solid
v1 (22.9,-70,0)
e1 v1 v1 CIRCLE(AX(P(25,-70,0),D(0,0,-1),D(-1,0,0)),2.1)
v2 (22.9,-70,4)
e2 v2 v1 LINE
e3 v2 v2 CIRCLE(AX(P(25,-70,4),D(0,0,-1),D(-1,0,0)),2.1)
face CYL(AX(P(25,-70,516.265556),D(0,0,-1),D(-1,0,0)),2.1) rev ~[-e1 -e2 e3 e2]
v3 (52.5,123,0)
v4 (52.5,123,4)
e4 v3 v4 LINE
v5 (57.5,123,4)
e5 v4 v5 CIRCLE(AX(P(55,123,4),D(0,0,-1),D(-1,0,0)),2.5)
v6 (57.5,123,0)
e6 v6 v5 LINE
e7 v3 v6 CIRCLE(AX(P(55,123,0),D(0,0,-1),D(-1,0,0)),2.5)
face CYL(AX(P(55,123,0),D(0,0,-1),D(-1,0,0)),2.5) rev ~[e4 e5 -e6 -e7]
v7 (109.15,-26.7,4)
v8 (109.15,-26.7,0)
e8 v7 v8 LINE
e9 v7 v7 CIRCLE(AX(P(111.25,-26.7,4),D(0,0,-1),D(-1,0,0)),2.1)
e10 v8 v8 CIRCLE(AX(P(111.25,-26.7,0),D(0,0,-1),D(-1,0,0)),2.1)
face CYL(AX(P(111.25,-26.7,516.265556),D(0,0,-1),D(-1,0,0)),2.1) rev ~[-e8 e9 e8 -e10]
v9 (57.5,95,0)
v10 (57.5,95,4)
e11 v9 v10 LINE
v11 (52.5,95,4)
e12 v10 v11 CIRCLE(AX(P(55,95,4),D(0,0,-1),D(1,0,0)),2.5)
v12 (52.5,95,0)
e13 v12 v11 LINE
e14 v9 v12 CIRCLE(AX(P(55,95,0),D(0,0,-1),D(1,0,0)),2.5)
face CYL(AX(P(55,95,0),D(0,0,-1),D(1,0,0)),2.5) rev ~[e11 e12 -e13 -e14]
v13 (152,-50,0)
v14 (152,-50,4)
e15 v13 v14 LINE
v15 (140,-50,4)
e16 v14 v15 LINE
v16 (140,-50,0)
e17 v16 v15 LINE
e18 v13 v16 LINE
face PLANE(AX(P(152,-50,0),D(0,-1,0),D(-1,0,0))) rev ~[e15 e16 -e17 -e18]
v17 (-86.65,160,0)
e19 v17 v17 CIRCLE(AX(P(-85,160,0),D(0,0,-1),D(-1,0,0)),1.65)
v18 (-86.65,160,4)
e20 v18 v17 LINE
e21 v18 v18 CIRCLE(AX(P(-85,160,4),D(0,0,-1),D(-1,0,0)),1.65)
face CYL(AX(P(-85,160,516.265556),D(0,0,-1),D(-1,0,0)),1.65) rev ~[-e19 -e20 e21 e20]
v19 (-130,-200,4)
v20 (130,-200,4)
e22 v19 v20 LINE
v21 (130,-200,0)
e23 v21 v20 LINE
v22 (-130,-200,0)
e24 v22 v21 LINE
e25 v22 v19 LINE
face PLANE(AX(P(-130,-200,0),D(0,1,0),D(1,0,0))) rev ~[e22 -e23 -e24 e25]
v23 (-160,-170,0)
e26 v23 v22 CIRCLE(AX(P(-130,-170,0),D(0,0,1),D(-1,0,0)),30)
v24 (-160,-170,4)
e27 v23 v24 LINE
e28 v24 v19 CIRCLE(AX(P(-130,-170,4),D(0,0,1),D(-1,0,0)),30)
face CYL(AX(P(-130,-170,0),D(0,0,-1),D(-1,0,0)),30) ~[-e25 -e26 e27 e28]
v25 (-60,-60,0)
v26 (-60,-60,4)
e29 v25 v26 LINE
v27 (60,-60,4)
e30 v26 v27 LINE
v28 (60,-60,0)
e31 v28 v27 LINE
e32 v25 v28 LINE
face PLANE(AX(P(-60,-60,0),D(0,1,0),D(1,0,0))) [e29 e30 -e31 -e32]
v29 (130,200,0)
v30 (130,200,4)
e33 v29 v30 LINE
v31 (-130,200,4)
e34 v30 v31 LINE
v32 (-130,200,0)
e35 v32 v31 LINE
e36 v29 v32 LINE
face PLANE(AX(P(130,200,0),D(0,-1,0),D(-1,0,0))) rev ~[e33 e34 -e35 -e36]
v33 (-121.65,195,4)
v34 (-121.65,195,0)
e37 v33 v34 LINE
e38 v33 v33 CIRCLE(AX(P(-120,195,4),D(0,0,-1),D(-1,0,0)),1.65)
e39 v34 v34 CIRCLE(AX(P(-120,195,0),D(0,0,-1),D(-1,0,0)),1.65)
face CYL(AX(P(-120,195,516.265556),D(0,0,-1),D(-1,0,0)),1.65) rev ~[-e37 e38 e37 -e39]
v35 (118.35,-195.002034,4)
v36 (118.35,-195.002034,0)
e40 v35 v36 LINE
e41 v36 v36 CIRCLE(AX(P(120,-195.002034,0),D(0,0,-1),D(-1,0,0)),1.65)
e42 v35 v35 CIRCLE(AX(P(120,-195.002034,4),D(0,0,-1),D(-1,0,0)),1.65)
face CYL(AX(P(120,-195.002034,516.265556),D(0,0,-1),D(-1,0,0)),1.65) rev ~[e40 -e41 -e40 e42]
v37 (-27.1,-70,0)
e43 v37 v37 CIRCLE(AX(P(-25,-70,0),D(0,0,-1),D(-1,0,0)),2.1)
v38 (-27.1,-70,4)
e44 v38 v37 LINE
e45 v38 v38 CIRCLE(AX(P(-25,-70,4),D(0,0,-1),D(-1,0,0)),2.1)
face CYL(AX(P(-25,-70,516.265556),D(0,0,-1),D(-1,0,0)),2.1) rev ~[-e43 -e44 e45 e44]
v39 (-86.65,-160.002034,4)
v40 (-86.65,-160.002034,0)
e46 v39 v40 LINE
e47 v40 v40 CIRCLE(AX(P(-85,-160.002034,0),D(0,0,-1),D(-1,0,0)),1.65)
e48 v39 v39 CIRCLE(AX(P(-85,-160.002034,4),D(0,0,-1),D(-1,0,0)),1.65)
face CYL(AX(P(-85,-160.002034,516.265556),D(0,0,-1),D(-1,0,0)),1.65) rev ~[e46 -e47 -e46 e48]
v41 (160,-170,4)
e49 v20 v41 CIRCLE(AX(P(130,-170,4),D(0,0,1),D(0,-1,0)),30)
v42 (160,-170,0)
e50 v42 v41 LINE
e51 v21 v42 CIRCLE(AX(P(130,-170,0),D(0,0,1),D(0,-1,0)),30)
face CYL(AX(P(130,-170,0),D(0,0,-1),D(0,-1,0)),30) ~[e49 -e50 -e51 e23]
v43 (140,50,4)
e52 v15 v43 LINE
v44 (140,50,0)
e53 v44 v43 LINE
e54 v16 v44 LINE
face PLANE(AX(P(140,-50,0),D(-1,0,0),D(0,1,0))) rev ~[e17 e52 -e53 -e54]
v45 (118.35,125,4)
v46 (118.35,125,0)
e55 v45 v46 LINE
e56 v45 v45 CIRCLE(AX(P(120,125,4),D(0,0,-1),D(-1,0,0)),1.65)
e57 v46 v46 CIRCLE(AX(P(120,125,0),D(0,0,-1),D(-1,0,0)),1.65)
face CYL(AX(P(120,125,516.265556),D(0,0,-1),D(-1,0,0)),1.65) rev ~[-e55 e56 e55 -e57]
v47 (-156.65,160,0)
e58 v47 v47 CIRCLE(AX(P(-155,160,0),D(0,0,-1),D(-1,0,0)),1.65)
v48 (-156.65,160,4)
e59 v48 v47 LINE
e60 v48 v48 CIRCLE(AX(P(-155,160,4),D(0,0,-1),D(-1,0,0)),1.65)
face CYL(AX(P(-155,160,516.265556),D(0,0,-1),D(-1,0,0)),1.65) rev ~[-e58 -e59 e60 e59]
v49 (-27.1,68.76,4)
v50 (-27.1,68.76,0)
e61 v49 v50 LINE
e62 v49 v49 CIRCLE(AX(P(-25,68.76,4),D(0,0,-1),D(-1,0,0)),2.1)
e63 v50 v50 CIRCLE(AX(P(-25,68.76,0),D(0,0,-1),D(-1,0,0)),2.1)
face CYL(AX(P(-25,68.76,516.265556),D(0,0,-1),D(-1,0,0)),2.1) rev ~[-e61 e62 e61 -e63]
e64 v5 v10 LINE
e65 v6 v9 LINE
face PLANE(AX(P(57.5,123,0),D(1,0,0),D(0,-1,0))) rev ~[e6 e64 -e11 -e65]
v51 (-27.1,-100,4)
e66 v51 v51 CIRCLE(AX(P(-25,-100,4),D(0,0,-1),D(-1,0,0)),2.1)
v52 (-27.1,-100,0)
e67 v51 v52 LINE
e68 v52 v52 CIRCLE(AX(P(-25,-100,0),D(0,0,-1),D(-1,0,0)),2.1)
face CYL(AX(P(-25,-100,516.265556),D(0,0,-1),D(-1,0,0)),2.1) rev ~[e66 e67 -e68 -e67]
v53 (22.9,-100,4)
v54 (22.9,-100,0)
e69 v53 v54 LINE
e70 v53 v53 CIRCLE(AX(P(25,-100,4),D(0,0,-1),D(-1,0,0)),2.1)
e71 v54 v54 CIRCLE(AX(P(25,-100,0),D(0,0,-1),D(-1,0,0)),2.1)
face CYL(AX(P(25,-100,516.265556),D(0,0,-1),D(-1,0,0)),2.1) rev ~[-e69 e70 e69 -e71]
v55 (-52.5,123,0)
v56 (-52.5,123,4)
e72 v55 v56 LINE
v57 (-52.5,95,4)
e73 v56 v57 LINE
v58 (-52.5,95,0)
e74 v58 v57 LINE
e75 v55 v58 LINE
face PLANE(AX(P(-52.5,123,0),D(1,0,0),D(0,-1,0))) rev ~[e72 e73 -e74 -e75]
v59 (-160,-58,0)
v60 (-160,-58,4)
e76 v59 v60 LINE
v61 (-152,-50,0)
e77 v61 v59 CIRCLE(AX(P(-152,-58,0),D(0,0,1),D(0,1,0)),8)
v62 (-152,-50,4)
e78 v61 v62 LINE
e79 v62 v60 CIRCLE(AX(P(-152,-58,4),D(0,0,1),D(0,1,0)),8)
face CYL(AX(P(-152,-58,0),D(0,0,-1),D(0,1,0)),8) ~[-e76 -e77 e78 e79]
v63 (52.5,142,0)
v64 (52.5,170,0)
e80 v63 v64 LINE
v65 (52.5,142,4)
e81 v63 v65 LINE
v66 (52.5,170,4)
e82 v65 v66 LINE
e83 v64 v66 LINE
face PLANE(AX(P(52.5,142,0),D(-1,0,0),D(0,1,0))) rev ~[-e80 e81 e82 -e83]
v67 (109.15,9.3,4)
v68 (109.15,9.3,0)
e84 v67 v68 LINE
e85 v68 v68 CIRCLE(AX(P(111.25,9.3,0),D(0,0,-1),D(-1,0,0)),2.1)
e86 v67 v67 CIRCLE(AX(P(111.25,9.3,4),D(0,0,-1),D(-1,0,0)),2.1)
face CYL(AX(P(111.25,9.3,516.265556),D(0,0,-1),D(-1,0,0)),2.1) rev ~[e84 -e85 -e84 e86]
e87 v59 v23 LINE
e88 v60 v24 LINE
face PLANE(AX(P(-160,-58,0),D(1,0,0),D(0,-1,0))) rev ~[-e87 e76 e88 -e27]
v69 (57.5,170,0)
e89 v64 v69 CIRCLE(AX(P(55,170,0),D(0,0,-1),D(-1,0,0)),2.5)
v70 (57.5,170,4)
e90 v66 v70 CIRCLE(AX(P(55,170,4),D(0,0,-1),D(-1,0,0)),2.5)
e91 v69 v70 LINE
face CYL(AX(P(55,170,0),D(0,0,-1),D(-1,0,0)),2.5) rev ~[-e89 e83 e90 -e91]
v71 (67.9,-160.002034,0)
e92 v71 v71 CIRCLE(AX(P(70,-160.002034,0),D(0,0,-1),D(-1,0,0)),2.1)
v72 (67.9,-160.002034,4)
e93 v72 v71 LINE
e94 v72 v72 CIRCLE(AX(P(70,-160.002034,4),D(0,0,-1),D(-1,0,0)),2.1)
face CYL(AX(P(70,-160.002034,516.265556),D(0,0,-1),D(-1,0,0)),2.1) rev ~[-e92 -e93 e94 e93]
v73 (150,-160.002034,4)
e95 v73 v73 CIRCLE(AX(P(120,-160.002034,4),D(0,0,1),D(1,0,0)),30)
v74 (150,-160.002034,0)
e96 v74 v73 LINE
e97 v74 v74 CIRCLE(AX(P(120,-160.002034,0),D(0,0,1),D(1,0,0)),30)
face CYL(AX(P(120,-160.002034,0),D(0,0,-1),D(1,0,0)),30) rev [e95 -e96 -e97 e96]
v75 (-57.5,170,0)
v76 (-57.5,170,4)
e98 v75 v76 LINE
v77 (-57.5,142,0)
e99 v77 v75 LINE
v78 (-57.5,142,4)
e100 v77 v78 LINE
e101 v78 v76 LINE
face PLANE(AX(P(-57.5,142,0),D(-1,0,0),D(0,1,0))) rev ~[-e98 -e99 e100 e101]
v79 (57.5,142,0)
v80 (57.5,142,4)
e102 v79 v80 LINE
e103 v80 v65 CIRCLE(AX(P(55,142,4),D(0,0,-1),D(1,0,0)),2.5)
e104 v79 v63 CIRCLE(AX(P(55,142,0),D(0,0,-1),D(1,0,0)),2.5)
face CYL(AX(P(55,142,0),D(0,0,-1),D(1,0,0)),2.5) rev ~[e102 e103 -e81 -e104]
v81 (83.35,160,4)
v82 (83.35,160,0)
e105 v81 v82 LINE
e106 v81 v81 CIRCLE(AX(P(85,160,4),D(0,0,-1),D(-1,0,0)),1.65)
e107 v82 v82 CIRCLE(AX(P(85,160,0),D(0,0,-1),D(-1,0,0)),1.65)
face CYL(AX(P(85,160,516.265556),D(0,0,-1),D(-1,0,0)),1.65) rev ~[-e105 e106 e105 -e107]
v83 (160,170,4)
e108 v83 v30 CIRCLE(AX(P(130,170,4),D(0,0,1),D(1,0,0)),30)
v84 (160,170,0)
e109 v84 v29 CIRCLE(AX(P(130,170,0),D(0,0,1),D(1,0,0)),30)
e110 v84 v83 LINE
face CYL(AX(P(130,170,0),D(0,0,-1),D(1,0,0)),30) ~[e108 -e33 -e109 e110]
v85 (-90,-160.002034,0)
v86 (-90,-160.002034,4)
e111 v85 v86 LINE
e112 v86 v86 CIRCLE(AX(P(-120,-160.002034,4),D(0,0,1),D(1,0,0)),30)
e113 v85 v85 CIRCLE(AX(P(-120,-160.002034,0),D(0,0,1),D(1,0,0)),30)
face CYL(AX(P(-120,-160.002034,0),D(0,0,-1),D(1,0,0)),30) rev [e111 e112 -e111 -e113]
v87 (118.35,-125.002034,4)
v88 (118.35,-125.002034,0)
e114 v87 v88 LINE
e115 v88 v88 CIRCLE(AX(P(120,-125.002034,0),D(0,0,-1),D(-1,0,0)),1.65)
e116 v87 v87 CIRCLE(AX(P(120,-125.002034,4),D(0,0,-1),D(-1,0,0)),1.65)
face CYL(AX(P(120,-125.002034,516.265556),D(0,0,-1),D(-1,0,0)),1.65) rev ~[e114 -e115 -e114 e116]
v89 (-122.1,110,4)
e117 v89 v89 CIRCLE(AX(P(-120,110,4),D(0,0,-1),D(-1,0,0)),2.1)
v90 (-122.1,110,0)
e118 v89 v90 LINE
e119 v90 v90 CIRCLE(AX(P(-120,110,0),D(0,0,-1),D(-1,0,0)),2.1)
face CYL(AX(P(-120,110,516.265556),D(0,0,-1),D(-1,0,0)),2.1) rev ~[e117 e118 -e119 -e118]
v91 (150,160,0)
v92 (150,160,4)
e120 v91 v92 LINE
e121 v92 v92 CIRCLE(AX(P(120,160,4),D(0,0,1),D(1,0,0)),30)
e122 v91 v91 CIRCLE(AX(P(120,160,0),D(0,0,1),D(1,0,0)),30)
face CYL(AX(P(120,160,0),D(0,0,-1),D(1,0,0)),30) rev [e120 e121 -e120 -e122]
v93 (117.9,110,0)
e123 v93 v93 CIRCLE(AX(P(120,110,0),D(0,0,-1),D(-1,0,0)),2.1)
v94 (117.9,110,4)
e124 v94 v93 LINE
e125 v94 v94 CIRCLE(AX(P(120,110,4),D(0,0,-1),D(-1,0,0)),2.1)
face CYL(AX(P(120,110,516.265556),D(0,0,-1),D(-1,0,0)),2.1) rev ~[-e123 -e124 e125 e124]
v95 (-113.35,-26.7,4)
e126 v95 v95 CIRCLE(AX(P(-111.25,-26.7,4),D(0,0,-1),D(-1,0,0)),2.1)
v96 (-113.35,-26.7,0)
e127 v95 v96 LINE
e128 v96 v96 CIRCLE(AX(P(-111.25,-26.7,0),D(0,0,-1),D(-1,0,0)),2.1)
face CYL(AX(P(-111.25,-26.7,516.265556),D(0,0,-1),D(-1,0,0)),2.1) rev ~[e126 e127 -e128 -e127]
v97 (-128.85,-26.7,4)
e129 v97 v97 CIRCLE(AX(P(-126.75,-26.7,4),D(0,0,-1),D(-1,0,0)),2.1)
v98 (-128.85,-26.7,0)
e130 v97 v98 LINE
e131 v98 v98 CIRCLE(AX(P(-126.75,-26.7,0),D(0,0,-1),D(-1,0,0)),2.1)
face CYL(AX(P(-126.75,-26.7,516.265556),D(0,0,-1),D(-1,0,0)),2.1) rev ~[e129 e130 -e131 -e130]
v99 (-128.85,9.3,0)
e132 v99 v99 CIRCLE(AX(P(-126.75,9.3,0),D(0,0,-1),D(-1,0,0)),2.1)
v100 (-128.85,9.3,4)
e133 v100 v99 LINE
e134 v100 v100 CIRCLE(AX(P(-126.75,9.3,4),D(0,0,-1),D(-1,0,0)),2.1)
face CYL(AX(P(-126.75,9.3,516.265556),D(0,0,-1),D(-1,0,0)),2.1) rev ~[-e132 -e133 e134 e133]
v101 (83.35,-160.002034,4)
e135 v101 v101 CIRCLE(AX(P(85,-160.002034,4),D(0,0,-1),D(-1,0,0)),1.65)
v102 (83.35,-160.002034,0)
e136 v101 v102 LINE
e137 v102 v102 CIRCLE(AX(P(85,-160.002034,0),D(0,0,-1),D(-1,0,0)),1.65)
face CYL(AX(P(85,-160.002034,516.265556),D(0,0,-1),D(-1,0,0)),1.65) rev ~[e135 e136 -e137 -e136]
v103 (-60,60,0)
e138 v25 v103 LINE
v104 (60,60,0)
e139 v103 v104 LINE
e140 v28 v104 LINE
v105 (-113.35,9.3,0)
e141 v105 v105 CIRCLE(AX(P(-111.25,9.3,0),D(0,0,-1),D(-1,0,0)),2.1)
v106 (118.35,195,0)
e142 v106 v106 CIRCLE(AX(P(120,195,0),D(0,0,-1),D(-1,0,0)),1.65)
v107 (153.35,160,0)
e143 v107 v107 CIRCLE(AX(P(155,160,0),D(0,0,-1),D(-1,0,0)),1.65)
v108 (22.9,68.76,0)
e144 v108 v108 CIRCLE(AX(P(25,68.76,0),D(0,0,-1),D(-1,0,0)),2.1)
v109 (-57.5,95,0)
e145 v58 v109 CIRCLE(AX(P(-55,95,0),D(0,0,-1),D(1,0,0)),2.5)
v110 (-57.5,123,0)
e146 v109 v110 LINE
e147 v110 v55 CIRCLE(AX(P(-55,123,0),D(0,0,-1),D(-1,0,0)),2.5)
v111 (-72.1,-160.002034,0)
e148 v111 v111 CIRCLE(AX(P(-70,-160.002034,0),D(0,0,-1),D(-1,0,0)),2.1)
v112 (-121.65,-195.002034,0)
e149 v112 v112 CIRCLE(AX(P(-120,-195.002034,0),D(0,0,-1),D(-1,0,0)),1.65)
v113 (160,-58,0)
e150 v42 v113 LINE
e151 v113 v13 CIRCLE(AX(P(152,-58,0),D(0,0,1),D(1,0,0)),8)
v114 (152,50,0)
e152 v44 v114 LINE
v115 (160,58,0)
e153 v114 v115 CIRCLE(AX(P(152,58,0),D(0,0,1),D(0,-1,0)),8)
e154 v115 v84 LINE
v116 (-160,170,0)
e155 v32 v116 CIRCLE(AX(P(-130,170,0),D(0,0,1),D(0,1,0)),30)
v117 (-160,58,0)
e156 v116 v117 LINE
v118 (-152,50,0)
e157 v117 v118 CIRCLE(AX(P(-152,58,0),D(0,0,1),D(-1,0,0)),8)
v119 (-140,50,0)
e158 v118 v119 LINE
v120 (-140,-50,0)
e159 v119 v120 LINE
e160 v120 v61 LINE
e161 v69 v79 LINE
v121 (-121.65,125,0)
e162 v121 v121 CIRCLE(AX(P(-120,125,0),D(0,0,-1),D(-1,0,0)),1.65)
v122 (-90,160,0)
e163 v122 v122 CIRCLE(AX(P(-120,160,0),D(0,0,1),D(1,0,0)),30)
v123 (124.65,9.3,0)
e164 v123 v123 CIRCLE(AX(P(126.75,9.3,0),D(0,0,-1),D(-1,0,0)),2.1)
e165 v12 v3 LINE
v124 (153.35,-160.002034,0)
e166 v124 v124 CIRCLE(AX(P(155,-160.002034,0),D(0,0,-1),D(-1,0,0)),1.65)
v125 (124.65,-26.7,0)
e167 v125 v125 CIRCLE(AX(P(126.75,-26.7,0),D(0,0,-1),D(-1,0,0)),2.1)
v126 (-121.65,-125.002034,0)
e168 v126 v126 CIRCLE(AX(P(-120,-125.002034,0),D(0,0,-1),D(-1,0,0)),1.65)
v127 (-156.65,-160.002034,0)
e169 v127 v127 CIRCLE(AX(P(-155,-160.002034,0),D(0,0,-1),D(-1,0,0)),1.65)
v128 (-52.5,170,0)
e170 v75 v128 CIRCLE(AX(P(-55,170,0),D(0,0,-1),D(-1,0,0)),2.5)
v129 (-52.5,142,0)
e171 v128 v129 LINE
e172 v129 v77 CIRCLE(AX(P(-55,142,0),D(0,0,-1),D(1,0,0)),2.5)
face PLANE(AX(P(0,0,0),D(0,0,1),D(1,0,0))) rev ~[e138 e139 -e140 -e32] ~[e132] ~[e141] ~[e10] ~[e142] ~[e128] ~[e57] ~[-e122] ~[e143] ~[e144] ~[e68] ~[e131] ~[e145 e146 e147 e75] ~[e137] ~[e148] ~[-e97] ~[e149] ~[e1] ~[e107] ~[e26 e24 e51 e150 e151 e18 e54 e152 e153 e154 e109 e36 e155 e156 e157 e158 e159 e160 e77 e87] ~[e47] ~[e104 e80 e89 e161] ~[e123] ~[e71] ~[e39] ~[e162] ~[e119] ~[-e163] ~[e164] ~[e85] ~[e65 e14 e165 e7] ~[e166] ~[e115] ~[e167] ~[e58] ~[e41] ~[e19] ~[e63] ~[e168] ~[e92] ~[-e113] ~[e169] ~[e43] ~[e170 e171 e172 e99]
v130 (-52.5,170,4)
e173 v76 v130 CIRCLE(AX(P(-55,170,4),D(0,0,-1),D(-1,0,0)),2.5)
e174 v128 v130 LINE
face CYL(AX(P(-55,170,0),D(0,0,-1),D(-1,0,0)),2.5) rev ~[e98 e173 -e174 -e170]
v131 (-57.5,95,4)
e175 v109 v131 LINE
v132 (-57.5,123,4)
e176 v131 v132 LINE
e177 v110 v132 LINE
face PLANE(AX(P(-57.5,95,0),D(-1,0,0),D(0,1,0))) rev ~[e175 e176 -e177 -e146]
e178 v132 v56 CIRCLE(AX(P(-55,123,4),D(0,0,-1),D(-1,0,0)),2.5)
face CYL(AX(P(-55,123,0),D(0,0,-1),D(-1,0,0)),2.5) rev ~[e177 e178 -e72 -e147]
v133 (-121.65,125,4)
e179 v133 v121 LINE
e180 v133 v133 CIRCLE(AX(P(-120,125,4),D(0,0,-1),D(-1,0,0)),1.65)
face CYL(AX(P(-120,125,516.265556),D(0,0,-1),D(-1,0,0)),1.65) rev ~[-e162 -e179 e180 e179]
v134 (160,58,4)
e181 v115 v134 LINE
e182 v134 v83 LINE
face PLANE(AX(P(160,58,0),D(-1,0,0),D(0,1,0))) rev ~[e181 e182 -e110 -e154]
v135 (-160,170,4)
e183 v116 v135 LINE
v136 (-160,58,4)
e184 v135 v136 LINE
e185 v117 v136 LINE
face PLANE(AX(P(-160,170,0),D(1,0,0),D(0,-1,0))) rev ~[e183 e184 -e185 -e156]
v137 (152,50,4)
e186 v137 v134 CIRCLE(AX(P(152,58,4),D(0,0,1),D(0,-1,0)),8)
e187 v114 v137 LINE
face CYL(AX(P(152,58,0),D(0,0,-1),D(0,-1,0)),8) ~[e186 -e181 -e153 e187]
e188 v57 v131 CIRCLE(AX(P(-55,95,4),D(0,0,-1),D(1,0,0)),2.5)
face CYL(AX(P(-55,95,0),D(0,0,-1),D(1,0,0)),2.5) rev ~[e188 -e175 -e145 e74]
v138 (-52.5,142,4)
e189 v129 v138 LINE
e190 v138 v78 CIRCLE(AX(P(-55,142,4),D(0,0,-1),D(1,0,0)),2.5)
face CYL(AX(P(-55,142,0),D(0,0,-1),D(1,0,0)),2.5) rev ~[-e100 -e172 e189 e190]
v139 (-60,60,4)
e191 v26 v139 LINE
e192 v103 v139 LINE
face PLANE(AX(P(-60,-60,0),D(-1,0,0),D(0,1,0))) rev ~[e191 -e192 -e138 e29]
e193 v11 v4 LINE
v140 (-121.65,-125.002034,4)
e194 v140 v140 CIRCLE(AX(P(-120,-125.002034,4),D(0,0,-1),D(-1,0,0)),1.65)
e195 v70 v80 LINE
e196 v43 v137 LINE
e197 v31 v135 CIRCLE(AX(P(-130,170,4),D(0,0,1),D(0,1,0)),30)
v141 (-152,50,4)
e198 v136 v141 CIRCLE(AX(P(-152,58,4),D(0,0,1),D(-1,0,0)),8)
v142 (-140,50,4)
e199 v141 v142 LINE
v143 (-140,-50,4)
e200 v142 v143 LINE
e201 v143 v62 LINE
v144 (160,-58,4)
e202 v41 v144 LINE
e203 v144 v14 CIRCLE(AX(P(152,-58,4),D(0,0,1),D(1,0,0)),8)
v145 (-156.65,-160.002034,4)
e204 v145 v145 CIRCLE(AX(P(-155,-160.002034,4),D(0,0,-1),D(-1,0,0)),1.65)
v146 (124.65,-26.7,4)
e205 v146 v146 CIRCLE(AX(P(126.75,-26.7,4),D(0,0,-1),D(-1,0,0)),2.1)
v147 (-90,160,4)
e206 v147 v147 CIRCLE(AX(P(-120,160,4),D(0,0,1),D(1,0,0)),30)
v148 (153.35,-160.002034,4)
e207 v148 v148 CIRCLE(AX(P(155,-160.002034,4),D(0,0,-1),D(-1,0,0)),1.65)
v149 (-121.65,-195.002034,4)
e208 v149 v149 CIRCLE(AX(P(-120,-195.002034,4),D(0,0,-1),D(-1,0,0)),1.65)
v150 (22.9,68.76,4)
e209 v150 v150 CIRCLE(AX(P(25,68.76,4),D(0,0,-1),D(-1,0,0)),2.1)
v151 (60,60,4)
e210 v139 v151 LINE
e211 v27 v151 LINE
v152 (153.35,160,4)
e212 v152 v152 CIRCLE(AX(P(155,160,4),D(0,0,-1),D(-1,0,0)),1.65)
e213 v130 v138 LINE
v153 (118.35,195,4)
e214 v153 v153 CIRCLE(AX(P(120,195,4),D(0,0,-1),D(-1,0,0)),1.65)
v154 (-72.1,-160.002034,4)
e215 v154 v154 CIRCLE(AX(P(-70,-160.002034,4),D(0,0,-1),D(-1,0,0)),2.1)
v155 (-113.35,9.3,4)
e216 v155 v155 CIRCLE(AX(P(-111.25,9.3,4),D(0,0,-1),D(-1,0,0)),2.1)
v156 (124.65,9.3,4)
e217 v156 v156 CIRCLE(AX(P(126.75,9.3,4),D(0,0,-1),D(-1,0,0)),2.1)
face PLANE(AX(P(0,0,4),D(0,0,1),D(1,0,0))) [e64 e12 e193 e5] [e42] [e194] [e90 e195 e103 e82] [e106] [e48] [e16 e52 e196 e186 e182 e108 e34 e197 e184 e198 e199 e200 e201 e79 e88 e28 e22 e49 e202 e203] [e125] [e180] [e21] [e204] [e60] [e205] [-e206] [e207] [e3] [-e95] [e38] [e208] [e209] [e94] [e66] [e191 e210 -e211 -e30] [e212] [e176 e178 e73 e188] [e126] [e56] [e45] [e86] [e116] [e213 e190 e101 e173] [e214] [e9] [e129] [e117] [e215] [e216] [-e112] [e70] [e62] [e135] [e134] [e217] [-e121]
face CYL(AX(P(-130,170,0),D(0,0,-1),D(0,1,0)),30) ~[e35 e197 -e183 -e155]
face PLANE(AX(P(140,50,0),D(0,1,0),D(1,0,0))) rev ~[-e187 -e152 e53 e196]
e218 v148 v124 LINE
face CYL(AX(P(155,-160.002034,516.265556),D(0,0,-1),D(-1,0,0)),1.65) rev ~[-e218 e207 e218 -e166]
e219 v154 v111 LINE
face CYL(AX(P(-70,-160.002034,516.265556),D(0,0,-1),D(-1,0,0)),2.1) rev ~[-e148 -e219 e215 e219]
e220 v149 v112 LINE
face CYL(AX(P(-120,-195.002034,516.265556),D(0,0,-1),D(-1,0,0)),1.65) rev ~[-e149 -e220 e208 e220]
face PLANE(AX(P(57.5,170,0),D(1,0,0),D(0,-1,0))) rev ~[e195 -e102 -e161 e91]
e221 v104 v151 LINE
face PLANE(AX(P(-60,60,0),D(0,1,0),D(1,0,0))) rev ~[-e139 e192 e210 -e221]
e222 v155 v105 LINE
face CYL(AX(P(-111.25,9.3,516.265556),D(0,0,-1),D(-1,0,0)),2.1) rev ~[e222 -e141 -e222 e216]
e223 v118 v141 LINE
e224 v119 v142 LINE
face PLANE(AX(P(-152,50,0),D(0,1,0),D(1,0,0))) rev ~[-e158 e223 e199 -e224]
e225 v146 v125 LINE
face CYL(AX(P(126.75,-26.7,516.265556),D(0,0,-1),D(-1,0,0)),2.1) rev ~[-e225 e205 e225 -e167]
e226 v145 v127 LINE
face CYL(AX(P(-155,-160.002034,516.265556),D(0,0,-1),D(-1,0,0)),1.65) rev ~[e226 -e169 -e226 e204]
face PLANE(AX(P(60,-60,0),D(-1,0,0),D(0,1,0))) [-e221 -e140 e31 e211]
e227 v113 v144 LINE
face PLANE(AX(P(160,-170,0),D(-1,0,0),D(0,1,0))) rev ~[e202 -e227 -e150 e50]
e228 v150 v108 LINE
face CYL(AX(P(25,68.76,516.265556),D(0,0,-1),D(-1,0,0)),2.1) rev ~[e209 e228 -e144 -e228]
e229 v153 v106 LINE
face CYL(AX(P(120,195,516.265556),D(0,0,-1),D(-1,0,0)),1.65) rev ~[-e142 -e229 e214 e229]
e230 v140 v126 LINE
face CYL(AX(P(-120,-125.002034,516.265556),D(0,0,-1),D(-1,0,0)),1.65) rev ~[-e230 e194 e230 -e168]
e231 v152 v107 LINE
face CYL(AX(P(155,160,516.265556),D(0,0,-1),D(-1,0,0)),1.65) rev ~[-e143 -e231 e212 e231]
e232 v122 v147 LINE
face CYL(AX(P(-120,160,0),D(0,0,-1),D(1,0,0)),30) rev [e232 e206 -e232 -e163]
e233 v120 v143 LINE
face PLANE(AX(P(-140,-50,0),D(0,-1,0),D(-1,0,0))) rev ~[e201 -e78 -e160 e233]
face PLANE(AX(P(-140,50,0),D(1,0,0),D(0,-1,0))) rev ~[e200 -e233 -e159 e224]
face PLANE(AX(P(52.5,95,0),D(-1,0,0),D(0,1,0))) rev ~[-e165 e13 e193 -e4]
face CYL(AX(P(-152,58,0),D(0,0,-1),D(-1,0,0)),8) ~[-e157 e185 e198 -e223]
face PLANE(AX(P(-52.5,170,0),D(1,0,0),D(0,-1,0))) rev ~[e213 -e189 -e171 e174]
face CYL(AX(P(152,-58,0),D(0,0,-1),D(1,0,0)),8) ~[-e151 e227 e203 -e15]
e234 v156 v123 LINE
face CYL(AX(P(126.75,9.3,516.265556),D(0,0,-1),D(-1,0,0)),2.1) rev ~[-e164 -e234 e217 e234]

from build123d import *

# Parameters (mm, degrees)
SKETCH_1_R         = 30
SKETCH_1_R_2       = 1.5
SKETCH_1_R_3       = 2
SKETCH_1_W         = 120
SKETCH_1_H         = 120
EXTRUDE_1_DEPTH    = 4
HOLE_WIZARD_M4_1_D = 3.3
HOLE_WIZARD_M5_1_D = 4.2


with BuildPart() as part:
    # 草图1 → 凸台-拉伸1 (new body)
    with BuildSketch(Plane.XY):
        with BuildLine():
            Line((-140, 50), (-140, -50))
            Line((-140, -50), (-152, -50))
            ThreePointArc((-152, -50), (-157.656854249, -52.343145751), (-160, -58))
            Line((-160, -58), (-160, -170))
            ThreePointArc((-160, -170), (-151.213203436, -191.213203436), (-130, -200))
            Line((-130, -200), (130, -200))
            ThreePointArc((130, -200), (151.213203436, -191.213203436), (160, -170))
            Line((160, -170), (160, -58))
            ThreePointArc((160, -58), (157.656854249, -52.343145751), (152, -50))
            Line((152, -50), (140, -50))
            Line((140, -50), (140, 50))
            Line((140, 50), (152, 50))
            ThreePointArc((152, 50), (157.656854249, 52.343145751), (160, 58))
            Line((160, 58), (160, 170))
            ThreePointArc((160, 170), (151.213203436, 191.213203436), (130, 200))
            Line((130, 200), (-130, 200))
            ThreePointArc((-130, 200), (-151.213203436, 191.213203436), (-160, 170))
            Line((-160, 170), (-160, 58))
            ThreePointArc((-160, 58), (-157.656854249, 52.343145751), (-152, 50))
            Line((-152, 50), (-140, 50))
        make_face()
        with Locations((-120, 160)):
            Circle(SKETCH_1_R, mode=Mode.SUBTRACT)
        with Locations((120, 160)):
            Circle(SKETCH_1_R, mode=Mode.SUBTRACT)
        with Locations((-120, -160.002034224)):
            Circle(SKETCH_1_R, mode=Mode.SUBTRACT)
        with Locations((120, -160.002034224)):
            Circle(SKETCH_1_R, mode=Mode.SUBTRACT)
        with Locations((-120, 195)):
            Circle(SKETCH_1_R_2, mode=Mode.SUBTRACT)
        with Locations((-155, 160)):
            Circle(SKETCH_1_R_2, mode=Mode.SUBTRACT)
        with Locations((-120, 125)):
            Circle(SKETCH_1_R_2, mode=Mode.SUBTRACT)
        with Locations((-85, 160)):
            Circle(SKETCH_1_R_2, mode=Mode.SUBTRACT)
        with Locations((120, 195)):
            Circle(SKETCH_1_R_2, mode=Mode.SUBTRACT)
        with Locations((155, 160)):
            Circle(SKETCH_1_R_2, mode=Mode.SUBTRACT)
        with Locations((85, 160)):
            Circle(SKETCH_1_R_2, mode=Mode.SUBTRACT)
        with Locations((120, 125)):
            Circle(SKETCH_1_R_2, mode=Mode.SUBTRACT)
        with Locations((-155, -160.002034224)):
            Circle(SKETCH_1_R_2, mode=Mode.SUBTRACT)
        with Locations((-120, -195.002034224)):
            Circle(SKETCH_1_R_2, mode=Mode.SUBTRACT)
        with Locations((-120, -125.002034224)):
            Circle(SKETCH_1_R_2, mode=Mode.SUBTRACT)
        with Locations((-85, -160.002034224)):
            Circle(SKETCH_1_R_2, mode=Mode.SUBTRACT)
        with Locations((155, -160.002034224)):
            Circle(SKETCH_1_R_2, mode=Mode.SUBTRACT)
        with Locations((120, -195.002034224)):
            Circle(SKETCH_1_R_2, mode=Mode.SUBTRACT)
        with Locations((120, -125.002034224)):
            Circle(SKETCH_1_R_2, mode=Mode.SUBTRACT)
        with Locations((85, -160.002034224)):
            Circle(SKETCH_1_R_2, mode=Mode.SUBTRACT)
        with Locations((25, -100)):
            Circle(SKETCH_1_R_3, mode=Mode.SUBTRACT)
        with Locations((25, -70)):
            Circle(SKETCH_1_R_3, mode=Mode.SUBTRACT)
        with Locations((-25, -100)):
            Circle(SKETCH_1_R_3, mode=Mode.SUBTRACT)
        with Locations((-25, -70)):
            Circle(SKETCH_1_R_3, mode=Mode.SUBTRACT)
        with Locations((-25, 68.76)):
            Circle(SKETCH_1_R_3, mode=Mode.SUBTRACT)
        with Locations((25, 68.76)):
            Circle(SKETCH_1_R_3, mode=Mode.SUBTRACT)
        with Locations((-120, 110)):
            Circle(SKETCH_1_R_3, mode=Mode.SUBTRACT)
        with Locations((120, 110)):
            Circle(SKETCH_1_R_3, mode=Mode.SUBTRACT)
        with Locations((-70, -160.002034224)):
            Circle(SKETCH_1_R_3, mode=Mode.SUBTRACT)
        with Locations((70, -160.002034224)):
            Circle(SKETCH_1_R_3, mode=Mode.SUBTRACT)
        with Locations((-126.75, 9.3)):
            Circle(SKETCH_1_R_3, mode=Mode.SUBTRACT)
        with Locations((-111.25, 9.3)):
            Circle(SKETCH_1_R_3, mode=Mode.SUBTRACT)
        with Locations((-126.75, -26.7)):
            Circle(SKETCH_1_R_3, mode=Mode.SUBTRACT)
        with Locations((-111.25, -26.7)):
            Circle(SKETCH_1_R_3, mode=Mode.SUBTRACT)
        with Locations((111.25, 9.3)):
            Circle(SKETCH_1_R_3, mode=Mode.SUBTRACT)
        with Locations((126.75, 9.3)):
            Circle(SKETCH_1_R_3, mode=Mode.SUBTRACT)
        with Locations((111.25, -26.7)):
            Circle(SKETCH_1_R_3, mode=Mode.SUBTRACT)
        with Locations((126.75, -26.7)):
            Circle(SKETCH_1_R_3, mode=Mode.SUBTRACT)
        Rectangle(SKETCH_1_W, SKETCH_1_H, mode=Mode.SUBTRACT)
        with BuildLine():
            Line((-52.5, 170), (-52.5, 142))
            ThreePointArc((-52.5, 142), (-55, 139.5), (-57.5, 142))
            Line((-57.5, 142), (-57.5, 170))
            ThreePointArc((-57.5, 170), (-55, 172.5), (-52.5, 170))
        make_face(mode=Mode.SUBTRACT)
        with BuildLine():
            Line((-52.5, 123), (-52.5, 95))
            ThreePointArc((-52.5, 95), (-55, 92.5), (-57.5, 95))
            Line((-57.5, 95), (-57.5, 123))
            ThreePointArc((-57.5, 123), (-55, 125.5), (-52.5, 123))
        make_face(mode=Mode.SUBTRACT)
        with BuildLine():
            Line((57.5, 170), (57.5, 142))
            ThreePointArc((57.5, 142), (55, 139.5), (52.5, 142))
            Line((52.5, 142), (52.5, 170))
            ThreePointArc((52.5, 170), (55, 172.5), (57.5, 170))
        make_face(mode=Mode.SUBTRACT)
        with BuildLine():
            Line((57.5, 123), (57.5, 95))
            ThreePointArc((57.5, 95), (55, 92.5), (52.5, 95))
            Line((52.5, 95), (52.5, 123))
            ThreePointArc((52.5, 123), (55, 125.5), (57.5, 123))
        make_face(mode=Mode.SUBTRACT)
    extrude(amount=EXTRUDE_1_DEPTH)

    # M4 螺纹孔1 (through all)
    with Locations(Plane.XY.offset(4)):
        with Locations((-120, 195), (-155, 160), (-85, 160), (-120, 125), (120, 195), (85, 160), (120, 125), (155, 160), (-120, -125.002034224), (-155, -160.002034224), (-85, -160.002034224), (-120, -195.002034224), (120, -125.002034224), (85, -160.002034224), (155, -160.002034224), (120, -195.002034224)):
            Hole(HOLE_WIZARD_M4_1_D / 2)

    # M5 螺纹孔1 (through all)
    with Locations(Plane.XY.offset(4)):
        with Locations((-120, 110), (-25, 68.76), (25, 68.76), (120, 110), (-25, -70), (25, -70), (25, -100), (-25, -100), (-70, -160.002034224), (70, -160.002034224), (-126.75, 9.3), (-111.25, 9.3), (-126.75, -26.7), (-111.25, -26.7), (111.25, 9.3), (126.75, 9.3), (111.25, -26.7), (126.75, -26.7)):
            Hole(HOLE_WIZARD_M5_1_D / 2)


solid = part.part
